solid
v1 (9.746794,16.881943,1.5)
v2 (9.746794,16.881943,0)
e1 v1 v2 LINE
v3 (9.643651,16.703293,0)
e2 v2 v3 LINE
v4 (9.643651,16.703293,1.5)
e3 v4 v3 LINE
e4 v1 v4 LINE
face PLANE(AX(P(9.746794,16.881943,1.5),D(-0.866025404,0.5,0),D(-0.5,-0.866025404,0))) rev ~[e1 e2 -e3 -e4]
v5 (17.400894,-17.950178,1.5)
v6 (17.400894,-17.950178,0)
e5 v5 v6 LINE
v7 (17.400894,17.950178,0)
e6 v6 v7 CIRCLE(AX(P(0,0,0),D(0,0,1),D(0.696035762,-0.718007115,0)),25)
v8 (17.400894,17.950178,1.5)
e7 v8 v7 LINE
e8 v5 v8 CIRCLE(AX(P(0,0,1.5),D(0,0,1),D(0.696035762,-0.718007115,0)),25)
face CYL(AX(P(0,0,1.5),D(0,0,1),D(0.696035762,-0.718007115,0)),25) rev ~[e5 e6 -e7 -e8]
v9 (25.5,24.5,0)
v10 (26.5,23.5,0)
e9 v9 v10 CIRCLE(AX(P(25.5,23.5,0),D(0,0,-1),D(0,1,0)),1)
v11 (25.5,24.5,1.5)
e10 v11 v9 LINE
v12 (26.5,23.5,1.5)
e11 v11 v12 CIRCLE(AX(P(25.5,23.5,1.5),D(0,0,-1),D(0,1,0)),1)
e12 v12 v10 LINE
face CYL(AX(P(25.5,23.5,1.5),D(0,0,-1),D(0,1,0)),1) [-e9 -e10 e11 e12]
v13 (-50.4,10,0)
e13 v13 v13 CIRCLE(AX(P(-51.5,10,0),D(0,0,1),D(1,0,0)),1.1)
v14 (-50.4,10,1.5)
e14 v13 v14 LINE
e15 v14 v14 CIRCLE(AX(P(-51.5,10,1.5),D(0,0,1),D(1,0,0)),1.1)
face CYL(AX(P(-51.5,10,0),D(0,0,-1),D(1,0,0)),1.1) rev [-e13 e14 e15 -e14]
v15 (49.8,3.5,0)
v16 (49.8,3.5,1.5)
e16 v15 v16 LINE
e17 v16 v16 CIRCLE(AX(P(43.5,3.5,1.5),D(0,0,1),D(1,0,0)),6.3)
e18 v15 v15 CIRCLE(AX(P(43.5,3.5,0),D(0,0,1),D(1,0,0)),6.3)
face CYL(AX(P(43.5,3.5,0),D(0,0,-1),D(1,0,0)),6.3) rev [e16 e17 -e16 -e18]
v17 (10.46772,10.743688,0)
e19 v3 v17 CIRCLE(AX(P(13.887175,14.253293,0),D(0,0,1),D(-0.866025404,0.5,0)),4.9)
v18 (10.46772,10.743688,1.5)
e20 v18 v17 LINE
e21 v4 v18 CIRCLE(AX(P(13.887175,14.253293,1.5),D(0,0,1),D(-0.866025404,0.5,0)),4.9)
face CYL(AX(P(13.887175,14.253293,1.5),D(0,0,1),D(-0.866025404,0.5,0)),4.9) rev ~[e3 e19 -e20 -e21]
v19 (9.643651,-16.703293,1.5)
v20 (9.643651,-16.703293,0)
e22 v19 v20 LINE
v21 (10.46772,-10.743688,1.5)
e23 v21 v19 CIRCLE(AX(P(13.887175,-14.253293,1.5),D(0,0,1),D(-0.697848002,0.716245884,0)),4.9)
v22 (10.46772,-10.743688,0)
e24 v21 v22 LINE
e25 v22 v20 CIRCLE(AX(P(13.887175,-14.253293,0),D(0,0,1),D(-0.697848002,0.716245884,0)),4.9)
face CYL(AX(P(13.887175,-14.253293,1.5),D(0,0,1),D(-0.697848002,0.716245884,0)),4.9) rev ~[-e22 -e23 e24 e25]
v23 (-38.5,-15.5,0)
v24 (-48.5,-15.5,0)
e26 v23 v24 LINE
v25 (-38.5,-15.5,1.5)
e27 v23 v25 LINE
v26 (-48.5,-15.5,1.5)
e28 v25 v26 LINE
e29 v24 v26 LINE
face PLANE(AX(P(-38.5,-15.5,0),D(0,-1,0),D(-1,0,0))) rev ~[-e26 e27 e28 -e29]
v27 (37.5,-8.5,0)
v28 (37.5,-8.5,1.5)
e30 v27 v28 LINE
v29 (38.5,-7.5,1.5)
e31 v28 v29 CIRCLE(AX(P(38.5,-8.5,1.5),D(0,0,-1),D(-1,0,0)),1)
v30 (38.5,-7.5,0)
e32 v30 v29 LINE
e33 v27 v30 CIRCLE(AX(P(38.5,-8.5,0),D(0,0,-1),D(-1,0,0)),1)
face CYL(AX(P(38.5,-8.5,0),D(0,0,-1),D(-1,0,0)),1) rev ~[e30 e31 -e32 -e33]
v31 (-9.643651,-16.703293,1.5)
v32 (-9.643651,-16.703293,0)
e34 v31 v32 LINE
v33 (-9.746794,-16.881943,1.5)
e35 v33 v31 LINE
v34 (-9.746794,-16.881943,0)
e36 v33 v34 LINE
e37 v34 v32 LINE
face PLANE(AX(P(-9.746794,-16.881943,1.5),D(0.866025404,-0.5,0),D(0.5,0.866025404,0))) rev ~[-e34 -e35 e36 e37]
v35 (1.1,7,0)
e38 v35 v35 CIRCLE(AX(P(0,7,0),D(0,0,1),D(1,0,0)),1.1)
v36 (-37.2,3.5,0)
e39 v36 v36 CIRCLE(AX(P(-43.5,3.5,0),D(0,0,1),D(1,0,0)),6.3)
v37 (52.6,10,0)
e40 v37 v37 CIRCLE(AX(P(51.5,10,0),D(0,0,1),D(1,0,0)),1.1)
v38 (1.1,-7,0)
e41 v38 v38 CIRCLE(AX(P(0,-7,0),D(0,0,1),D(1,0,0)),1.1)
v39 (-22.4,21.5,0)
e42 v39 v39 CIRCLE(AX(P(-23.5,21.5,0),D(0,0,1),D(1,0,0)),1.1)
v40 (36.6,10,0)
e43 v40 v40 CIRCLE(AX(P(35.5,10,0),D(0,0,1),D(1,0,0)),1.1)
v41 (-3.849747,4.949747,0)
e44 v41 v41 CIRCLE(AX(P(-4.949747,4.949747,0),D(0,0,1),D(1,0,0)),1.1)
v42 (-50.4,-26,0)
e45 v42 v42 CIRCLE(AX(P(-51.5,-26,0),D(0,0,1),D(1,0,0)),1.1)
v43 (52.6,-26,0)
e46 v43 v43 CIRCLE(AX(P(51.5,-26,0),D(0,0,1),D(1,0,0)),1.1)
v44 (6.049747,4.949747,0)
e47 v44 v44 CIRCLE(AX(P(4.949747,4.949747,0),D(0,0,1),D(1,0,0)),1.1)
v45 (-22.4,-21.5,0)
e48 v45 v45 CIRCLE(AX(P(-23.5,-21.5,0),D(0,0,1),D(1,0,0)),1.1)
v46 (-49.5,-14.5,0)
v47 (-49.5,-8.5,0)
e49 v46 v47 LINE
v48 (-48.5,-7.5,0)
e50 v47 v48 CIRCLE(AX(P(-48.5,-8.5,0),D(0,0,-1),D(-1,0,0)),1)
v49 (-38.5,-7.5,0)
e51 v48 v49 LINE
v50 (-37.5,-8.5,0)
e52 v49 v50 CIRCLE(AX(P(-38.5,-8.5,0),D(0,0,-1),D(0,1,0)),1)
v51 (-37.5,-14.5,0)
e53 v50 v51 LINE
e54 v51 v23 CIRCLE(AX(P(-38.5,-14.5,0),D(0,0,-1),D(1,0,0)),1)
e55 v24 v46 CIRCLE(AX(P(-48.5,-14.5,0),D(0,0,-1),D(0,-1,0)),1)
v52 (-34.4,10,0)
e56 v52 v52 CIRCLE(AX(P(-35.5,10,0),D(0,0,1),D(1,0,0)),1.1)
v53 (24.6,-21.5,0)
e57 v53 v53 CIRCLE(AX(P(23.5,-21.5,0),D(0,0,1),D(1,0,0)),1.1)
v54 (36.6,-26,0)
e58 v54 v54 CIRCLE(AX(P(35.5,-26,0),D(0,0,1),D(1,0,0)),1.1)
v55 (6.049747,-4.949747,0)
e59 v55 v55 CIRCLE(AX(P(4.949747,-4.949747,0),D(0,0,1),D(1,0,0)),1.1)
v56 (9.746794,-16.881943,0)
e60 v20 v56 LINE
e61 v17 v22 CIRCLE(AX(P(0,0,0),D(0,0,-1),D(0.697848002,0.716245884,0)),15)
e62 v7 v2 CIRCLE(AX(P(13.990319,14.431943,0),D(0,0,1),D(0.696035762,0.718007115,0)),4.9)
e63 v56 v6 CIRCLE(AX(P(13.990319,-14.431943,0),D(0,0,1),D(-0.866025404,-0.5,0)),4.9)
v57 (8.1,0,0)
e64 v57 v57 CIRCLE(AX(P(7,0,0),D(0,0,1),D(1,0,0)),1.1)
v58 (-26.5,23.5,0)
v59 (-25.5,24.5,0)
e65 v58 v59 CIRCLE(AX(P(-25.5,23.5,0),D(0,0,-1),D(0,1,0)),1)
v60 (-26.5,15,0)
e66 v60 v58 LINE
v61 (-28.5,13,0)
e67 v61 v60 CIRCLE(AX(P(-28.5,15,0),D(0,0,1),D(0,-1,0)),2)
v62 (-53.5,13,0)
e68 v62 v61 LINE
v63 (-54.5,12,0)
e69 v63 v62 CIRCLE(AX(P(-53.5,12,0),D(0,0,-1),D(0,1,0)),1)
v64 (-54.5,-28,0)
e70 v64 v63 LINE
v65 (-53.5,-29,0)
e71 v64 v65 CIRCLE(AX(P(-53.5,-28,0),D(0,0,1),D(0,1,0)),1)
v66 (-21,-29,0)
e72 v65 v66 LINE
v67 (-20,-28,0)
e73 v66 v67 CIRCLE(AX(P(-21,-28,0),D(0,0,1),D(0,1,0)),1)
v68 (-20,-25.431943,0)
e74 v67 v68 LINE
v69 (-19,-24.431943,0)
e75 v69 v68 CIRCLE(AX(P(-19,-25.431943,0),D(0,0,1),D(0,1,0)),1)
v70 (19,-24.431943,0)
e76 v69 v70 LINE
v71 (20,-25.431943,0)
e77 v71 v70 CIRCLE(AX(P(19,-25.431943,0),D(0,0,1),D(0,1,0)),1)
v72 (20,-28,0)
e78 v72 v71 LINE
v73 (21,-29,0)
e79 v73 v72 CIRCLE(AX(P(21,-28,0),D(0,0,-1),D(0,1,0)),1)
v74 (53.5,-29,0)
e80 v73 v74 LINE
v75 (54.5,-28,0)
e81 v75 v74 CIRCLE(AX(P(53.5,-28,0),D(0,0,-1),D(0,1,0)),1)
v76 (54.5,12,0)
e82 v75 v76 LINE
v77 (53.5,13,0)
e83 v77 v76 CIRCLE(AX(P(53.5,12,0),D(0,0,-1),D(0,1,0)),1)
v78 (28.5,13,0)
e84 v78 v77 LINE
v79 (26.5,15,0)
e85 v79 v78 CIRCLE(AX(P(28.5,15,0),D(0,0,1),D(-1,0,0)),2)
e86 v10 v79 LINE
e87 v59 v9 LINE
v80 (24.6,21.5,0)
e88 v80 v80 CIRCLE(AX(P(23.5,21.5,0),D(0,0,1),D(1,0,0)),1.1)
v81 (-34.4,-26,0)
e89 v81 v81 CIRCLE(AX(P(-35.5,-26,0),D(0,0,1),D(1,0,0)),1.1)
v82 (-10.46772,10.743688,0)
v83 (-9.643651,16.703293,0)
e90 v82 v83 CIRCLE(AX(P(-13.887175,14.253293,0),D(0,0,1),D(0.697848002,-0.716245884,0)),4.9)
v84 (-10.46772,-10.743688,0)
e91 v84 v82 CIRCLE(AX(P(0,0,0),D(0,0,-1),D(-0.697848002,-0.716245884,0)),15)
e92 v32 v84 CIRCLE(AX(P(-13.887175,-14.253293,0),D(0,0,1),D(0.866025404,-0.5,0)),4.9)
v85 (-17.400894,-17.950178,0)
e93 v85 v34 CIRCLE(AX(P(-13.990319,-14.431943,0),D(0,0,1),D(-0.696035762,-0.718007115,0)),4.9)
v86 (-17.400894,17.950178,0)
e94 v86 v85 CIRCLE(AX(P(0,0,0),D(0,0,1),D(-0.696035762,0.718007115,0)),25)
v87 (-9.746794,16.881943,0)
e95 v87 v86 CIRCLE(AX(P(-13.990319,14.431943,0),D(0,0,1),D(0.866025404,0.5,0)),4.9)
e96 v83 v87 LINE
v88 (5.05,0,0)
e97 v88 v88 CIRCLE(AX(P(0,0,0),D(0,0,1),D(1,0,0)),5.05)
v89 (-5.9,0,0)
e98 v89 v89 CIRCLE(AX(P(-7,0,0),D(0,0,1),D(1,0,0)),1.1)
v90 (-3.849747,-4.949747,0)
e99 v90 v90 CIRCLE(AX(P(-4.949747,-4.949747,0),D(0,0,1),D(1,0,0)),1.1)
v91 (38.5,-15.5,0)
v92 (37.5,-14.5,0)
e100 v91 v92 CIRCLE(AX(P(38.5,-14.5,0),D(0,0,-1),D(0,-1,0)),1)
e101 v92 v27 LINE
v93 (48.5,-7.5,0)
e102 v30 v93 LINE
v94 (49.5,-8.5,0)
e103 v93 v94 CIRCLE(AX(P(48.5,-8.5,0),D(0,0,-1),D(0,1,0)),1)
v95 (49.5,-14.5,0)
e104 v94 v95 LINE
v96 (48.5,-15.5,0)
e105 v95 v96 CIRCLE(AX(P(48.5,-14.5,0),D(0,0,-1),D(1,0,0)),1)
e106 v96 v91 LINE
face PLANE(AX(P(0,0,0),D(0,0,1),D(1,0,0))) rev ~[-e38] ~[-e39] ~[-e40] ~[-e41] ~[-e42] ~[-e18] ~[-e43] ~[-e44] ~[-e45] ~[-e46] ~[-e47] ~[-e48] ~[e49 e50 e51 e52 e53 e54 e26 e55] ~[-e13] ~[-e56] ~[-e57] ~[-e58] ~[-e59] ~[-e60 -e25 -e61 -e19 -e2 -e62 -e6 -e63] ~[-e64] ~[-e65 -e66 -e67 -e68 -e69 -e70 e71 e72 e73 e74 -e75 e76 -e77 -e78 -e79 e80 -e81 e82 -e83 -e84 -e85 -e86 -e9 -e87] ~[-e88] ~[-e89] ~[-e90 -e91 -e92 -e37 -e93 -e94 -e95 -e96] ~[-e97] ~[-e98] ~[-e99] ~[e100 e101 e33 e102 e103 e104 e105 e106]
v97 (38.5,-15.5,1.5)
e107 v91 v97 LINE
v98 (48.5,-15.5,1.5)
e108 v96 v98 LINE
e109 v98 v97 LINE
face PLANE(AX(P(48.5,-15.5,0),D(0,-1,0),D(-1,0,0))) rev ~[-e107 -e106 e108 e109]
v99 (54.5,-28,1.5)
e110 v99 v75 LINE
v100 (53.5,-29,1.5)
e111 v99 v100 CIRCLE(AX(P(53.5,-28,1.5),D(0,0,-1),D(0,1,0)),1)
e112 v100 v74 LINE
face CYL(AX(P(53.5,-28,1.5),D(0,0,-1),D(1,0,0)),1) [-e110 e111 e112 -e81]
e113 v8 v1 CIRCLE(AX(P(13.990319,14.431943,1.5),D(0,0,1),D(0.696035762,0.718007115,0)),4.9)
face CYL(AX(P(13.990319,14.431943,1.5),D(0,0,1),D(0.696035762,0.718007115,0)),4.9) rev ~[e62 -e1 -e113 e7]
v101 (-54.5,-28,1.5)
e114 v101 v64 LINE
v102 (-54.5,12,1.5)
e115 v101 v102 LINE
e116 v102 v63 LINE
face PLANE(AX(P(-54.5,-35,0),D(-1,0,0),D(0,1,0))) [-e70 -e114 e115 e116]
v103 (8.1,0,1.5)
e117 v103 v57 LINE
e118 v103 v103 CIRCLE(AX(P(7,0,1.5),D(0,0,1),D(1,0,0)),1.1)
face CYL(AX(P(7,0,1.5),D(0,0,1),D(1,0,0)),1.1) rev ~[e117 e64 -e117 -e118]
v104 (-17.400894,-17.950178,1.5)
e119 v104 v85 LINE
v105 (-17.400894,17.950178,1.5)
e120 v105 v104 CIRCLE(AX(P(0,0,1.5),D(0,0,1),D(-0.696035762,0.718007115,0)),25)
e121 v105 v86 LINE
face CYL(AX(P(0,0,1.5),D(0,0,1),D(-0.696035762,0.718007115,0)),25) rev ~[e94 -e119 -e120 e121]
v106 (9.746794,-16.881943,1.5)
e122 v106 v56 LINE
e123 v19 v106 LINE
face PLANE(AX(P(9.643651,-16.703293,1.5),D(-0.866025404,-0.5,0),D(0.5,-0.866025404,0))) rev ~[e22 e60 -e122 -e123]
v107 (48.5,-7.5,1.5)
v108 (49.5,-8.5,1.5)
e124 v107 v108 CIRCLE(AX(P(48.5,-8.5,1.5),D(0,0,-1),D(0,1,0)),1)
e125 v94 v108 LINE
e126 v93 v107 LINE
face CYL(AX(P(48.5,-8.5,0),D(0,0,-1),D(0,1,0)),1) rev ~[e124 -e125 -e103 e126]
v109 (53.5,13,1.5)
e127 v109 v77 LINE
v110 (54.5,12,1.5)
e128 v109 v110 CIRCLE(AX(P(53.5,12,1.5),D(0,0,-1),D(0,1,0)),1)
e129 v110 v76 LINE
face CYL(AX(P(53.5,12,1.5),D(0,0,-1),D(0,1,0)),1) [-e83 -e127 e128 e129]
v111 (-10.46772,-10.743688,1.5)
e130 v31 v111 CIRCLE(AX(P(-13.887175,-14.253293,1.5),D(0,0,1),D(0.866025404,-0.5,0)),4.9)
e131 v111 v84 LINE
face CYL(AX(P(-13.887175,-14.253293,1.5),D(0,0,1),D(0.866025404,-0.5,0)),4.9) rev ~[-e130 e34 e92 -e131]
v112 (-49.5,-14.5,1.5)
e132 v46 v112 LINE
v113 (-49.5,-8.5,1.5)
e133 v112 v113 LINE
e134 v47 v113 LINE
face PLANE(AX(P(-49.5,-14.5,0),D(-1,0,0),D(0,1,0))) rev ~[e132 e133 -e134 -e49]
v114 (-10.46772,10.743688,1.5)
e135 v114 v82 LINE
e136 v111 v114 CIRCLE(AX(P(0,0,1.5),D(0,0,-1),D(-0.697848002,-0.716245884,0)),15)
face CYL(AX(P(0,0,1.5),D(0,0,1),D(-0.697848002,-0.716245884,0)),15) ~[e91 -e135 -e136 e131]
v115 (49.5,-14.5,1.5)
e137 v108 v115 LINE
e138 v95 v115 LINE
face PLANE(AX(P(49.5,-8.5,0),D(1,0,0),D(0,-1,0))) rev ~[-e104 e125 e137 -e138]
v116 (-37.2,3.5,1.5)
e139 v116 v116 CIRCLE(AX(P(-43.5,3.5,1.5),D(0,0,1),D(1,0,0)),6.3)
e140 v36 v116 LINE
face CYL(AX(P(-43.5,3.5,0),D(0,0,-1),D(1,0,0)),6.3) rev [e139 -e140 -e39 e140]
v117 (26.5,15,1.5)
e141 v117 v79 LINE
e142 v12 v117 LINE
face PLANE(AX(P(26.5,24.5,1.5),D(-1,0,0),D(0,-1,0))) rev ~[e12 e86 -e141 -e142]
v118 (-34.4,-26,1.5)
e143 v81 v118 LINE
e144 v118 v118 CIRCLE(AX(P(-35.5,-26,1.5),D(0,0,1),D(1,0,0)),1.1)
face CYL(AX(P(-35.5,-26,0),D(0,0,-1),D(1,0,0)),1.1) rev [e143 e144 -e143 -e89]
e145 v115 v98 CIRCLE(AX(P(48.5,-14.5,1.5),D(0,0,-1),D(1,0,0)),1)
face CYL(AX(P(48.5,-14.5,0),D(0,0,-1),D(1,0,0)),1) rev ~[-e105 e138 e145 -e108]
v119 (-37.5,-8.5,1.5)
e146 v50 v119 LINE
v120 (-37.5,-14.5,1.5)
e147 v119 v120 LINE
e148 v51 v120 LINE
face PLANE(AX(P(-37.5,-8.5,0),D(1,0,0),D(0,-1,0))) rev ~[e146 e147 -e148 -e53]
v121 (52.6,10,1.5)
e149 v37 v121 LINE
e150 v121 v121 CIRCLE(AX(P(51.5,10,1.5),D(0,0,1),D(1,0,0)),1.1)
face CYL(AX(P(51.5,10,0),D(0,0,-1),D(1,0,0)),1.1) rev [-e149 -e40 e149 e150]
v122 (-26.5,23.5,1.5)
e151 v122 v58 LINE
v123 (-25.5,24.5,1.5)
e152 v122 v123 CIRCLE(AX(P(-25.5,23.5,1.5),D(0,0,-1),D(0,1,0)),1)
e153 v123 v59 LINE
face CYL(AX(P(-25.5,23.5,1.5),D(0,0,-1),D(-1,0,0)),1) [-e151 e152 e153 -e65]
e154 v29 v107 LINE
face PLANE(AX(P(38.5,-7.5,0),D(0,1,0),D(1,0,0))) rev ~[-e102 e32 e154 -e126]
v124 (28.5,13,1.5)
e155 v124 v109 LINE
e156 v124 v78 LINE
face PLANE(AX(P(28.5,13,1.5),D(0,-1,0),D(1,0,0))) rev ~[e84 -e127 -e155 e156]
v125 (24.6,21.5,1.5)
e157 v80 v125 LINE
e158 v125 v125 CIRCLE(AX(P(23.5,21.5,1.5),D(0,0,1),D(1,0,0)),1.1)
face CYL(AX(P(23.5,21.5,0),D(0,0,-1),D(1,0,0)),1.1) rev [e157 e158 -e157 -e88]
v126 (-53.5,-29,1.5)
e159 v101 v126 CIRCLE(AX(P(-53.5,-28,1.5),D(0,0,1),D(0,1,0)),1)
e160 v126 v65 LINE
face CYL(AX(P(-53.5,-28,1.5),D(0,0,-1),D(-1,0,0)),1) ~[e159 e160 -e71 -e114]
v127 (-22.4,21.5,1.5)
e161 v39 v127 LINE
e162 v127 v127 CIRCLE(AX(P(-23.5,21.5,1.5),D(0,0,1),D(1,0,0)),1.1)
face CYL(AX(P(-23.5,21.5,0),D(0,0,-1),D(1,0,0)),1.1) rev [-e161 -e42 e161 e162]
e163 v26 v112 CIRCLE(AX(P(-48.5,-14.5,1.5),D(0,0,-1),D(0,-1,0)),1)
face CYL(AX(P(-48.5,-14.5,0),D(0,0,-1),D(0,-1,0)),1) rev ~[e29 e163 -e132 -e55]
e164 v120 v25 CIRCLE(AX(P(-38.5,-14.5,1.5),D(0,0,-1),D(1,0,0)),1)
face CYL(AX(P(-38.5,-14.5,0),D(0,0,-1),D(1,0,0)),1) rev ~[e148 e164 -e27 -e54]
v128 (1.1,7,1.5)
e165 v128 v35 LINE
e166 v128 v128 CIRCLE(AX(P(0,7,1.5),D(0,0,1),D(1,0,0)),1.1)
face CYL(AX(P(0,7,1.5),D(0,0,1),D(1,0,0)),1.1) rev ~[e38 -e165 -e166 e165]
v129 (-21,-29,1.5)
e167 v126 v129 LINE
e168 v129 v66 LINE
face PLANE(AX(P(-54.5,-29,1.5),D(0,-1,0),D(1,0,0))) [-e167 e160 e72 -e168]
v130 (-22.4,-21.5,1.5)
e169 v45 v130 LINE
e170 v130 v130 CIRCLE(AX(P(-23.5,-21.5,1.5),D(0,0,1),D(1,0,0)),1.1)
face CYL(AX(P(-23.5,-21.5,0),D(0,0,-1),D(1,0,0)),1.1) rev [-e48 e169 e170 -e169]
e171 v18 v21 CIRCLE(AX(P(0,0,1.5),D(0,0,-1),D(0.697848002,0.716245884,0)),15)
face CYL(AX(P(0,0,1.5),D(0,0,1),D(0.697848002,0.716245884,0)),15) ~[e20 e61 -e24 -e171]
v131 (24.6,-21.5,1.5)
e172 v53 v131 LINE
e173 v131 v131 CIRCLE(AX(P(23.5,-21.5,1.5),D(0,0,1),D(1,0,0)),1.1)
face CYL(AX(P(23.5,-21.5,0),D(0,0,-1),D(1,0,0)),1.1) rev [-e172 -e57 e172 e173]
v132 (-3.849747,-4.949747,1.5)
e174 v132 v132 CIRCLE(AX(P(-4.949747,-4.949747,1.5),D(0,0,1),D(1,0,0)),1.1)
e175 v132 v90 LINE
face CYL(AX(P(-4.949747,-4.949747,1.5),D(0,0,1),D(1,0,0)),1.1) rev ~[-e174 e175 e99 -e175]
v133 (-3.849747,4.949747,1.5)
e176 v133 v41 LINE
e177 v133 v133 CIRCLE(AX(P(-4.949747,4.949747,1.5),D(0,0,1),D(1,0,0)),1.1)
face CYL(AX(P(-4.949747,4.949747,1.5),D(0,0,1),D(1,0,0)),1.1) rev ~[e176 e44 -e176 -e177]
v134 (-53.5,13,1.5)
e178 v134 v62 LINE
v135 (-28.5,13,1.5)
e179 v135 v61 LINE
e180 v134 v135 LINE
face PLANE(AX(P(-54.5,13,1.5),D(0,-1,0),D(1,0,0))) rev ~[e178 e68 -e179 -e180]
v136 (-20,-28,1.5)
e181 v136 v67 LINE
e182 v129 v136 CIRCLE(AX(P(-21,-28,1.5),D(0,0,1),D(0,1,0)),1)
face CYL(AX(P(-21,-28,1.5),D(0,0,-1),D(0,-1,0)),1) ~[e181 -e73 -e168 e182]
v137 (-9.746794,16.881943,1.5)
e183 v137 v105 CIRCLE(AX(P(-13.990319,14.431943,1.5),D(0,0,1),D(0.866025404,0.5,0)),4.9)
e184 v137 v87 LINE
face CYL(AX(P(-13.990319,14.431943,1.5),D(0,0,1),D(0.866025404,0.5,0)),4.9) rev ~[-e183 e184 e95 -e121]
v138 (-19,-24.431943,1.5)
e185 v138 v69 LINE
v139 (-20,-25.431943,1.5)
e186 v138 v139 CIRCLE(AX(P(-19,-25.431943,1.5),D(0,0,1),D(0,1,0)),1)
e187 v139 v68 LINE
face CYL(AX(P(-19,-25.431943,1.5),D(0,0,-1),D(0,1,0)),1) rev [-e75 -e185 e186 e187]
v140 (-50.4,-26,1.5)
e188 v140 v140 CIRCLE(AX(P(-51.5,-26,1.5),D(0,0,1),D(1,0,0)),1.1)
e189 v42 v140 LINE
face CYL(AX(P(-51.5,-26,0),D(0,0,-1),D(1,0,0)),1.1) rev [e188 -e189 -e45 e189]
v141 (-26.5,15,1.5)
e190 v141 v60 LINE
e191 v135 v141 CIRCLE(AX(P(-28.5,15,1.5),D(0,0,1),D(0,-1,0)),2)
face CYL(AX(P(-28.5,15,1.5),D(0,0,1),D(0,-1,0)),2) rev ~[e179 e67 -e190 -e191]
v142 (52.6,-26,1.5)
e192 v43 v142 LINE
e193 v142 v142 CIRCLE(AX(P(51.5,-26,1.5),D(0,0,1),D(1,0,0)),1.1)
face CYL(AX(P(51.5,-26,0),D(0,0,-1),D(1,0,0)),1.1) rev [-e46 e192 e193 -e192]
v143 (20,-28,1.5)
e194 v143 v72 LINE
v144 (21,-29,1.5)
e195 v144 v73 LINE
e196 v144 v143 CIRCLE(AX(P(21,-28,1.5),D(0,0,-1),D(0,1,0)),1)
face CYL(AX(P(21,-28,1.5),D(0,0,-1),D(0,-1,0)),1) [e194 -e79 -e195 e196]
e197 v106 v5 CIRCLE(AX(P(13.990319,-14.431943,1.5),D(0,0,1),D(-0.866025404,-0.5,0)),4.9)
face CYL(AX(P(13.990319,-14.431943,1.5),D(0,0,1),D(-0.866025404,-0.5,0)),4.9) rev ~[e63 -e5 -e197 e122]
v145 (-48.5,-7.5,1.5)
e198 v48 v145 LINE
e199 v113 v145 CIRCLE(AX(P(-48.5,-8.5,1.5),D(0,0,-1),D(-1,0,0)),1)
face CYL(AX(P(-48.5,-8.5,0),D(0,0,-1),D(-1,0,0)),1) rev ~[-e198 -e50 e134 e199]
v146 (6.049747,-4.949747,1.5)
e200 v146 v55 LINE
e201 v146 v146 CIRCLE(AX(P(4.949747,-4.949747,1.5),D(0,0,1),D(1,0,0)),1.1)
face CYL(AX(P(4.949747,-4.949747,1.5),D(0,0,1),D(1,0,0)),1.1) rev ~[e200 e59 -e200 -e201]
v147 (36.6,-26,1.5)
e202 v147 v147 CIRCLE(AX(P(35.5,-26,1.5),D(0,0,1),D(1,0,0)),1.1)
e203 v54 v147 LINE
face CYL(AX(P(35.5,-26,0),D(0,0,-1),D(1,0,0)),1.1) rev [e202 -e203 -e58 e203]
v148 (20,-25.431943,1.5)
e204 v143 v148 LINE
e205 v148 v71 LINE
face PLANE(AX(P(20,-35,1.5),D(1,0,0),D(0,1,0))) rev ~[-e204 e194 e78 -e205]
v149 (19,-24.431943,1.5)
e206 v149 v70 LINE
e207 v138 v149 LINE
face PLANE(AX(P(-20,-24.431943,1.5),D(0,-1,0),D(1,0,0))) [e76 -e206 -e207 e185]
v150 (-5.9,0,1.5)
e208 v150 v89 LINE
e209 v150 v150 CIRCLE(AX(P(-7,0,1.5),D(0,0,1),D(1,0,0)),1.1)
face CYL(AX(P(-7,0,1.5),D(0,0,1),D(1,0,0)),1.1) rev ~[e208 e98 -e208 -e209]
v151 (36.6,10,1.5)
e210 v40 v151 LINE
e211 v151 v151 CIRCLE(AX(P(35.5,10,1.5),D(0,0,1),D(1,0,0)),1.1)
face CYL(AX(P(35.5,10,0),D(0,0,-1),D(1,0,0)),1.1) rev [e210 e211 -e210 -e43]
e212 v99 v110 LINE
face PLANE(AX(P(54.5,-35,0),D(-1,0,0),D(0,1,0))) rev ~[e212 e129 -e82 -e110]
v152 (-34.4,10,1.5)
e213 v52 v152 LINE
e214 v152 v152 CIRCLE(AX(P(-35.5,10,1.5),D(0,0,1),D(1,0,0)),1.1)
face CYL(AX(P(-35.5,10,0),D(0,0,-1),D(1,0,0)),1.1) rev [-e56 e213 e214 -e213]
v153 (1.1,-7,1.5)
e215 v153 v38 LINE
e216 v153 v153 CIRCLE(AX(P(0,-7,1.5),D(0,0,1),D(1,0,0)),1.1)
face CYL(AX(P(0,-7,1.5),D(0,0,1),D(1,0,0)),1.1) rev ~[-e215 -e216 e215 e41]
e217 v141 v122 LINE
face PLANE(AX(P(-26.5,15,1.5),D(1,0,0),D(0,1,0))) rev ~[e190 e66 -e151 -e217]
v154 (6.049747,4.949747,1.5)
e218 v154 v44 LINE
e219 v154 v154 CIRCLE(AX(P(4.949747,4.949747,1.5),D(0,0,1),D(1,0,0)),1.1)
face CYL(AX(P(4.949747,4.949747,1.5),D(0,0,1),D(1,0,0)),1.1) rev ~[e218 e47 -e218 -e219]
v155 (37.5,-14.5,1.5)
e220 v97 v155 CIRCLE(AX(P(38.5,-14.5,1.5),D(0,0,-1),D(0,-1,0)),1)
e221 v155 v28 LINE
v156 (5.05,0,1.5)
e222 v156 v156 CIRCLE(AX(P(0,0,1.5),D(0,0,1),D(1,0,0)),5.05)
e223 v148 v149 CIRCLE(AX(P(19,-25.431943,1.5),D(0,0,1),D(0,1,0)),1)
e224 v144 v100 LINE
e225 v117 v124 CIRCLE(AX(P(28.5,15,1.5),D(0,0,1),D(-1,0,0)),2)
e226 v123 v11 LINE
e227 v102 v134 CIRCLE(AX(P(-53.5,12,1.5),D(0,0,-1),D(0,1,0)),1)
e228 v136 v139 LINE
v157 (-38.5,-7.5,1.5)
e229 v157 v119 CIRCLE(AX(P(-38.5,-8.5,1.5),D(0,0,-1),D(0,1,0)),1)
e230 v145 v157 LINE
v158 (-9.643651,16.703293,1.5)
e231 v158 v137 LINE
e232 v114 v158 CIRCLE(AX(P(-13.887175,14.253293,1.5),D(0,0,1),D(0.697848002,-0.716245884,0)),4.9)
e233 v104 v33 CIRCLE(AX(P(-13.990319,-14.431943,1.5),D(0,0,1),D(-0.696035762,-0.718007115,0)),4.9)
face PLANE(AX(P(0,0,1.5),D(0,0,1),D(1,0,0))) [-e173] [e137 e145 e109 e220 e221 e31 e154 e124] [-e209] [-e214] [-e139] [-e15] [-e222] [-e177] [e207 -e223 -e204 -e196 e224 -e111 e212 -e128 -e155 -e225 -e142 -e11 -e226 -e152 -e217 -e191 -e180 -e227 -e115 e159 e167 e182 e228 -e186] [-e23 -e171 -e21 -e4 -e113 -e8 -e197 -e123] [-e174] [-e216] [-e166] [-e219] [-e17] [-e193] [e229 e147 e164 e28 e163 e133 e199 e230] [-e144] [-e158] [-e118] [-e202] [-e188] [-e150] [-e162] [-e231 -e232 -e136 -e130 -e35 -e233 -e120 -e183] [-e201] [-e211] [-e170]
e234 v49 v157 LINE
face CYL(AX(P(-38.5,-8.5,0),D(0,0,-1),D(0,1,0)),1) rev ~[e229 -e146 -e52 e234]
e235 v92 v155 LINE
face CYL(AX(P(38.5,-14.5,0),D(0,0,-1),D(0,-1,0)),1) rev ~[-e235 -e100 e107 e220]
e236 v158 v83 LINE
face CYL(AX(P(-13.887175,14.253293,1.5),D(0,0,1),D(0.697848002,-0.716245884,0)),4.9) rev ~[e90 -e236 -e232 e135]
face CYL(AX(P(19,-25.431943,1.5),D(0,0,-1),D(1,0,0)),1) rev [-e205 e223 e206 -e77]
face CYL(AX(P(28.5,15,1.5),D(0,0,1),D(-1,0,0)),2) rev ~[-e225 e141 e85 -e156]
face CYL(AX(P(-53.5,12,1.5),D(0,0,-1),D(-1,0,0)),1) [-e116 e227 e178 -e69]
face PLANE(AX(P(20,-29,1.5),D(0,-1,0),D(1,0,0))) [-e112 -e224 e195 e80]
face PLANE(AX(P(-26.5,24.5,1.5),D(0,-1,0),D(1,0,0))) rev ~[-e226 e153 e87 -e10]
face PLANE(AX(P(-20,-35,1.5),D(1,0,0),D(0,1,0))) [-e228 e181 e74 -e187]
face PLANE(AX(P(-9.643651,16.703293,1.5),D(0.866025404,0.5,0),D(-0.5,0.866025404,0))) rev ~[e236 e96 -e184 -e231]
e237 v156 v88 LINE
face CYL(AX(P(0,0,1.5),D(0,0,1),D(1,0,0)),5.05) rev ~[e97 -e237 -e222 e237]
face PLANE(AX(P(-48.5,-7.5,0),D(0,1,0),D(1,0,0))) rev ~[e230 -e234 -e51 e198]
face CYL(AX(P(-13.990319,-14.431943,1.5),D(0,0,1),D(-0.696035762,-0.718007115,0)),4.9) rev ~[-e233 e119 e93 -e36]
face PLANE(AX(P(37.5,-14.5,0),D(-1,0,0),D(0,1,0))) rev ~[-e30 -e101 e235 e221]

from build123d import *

# Parameters (mm, degrees)
F0_W     = 109
F0_H     = 70
F0_R     = 1.1
F0_R_2   = 6.3
F1_DEPTH = 1.5
F2_R     = 5.05
F2_R_2   = 1.1
F2_W     = 53
F2_H     = 10.5
F2_W_2   = 40
F2_H_2   = 10.5680569839
F3_DEPTH = 1.5
F4_W     = 34.5
F4_H     = 6
F5_DEPTH = 1.5
F6_R     = 1


with BuildPart() as f1:
    # F0 (on Top) → F1 (new body)
    with BuildSketch(Plane.XY):
        Rectangle(F0_W, F0_H)
        with Locations((-51.5, -26)):
            Circle(F0_R, mode=Mode.SUBTRACT)
        with Locations((-35.5, -26)):
            Circle(F0_R, mode=Mode.SUBTRACT)
        with Locations((-23.5, -21.5)):
            Circle(F0_R, mode=Mode.SUBTRACT)
        with BuildLine():
            ThreePointArc((-37.5, -14.5), (-37.7928932188, -15.2071067812), (-38.5, -15.5))
            Line((-38.5, -15.5), (-48.5, -15.5))
            ThreePointArc((-48.5, -15.5), (-49.2071067812, -15.2071067812), (-49.5, -14.5))
            Line((-49.5, -14.5), (-49.5, -8.5))
            ThreePointArc((-49.5, -8.5), (-49.2071067812, -7.7928932188), (-48.5, -7.5))
            Line((-48.5, -7.5), (-38.5, -7.5))
            ThreePointArc((-38.5, -7.5), (-37.7928932188, -7.7928932188), (-37.5, -8.5))
            Line((-37.5, -8.5), (-37.5, -14.5))
        make_face(mode=Mode.SUBTRACT)
        with Locations((23.5, -21.5)):
            Circle(F0_R, mode=Mode.SUBTRACT)
        with Locations((35.5, -26)):
            Circle(F0_R, mode=Mode.SUBTRACT)
        with Locations((51.5, -26)):
            Circle(F0_R, mode=Mode.SUBTRACT)
        with BuildLine():
            Line((38.5, -7.5), (48.5, -7.5))
            ThreePointArc((48.5, -7.5), (49.2071067812, -7.7928932188), (49.5, -8.5))
            Line((49.5, -8.5), (49.5, -14.5))
            ThreePointArc((49.5, -14.5), (49.2071067812, -15.2071067812), (48.5, -15.5))
            Line((48.5, -15.5), (38.5, -15.5))
            ThreePointArc((38.5, -15.5), (37.7928932188, -15.2071067812), (37.5, -14.5))
            Line((37.5, -14.5), (37.5, -8.5))
            ThreePointArc((37.5, -8.5), (37.7928932188, -7.7928932188), (38.5, -7.5))
        make_face(mode=Mode.SUBTRACT)
        with Locations((-43.5, 3.5)):
            Circle(F0_R_2, mode=Mode.SUBTRACT)
        with Locations((-51.5, 10)):
            Circle(F0_R, mode=Mode.SUBTRACT)
        with Locations((-35.5, 10)):
            Circle(F0_R, mode=Mode.SUBTRACT)
        with Locations((-23.5, 21.5)):
            Circle(F0_R, mode=Mode.SUBTRACT)
        with Locations((43.5, 3.5)):
            Circle(F0_R_2, mode=Mode.SUBTRACT)
        with Locations((35.5, 10)):
            Circle(F0_R, mode=Mode.SUBTRACT)
        with Locations((51.5, 10)):
            Circle(F0_R, mode=Mode.SUBTRACT)
        with Locations((23.5, 21.5)):
            Circle(F0_R, mode=Mode.SUBTRACT)
    extrude(amount=F1_DEPTH)

    # F2 (on face) → F3 (cut, through all)
    with BuildSketch(Plane.XY.offset(1.5)):
        Circle(F2_R)
        with Locations((0, 7)):
            Circle(F2_R_2)
        with Locations((-4.9497474683, 4.9497474683)):
            Circle(F2_R_2)
        with Locations((-7, 0)):
            Circle(F2_R_2)
        with Locations((-4.9497474683, -4.9497474683)):
            Circle(F2_R_2)
        with Locations((0, -7)):
            Circle(F2_R_2)
        with Locations((4.9497474683, -4.9497474683)):
            Circle(F2_R_2)
        with Locations((7, 0)):
            Circle(F2_R_2)
        with Locations((4.9497474683, 4.9497474683)):
            Circle(F2_R_2)
        with BuildLine():
            ThreePointArc((-9.7467943448, 16.8819430161), (-13.3130208521, 19.2849078273), (-17.4008940589, 17.9501778808))
            ThreePointArc((-17.4008940589, 17.9501778808), (-25, 0), (-17.4008940589, -17.9501778808))
            ThreePointArc((-17.4008940589, -17.9501778808), (-13.3130208521, -19.2849078273), (-9.7467943448, -16.8819430161))
            Line((-9.7467943448, -16.8819430161), (-9.643650761, -16.7032930885))
            ThreePointArc((-9.643650761, -16.7032930885), (-9.0333585083, -13.5821275803), (-10.4677200298, -10.7436882577))
            ThreePointArc((-10.4677200298, -10.7436882577), (-15, 0), (-10.4677200298, 10.7436882577))
            ThreePointArc((-10.4677200298, 10.7436882577), (-9.0333585083, 13.5821275803), (-9.643650761, 16.7032930885))
            Line((-9.643650761, 16.7032930885), (-9.7467943448, 16.8819430161))
        make_face()
        with BuildLine():
            ThreePointArc((17.4008940589, 17.9501778808), (13.3130208521, 19.2849078273), (9.7467943448, 16.8819430161))
            Line((9.7467943448, 16.8819430161), (9.643650761, 16.7032930885))
            ThreePointArc((9.643650761, 16.7032930885), (9.0333585083, 13.5821275803), (10.4677200298, 10.7436882577))
            ThreePointArc((10.4677200298, 10.7436882577), (15, 0), (10.4677200298, -10.7436882577))
            ThreePointArc((10.4677200298, -10.7436882577), (9.0333585083, -13.5821275803), (9.643650761, -16.7032930885))
            Line((9.643650761, -16.7032930885), (9.7467943448, -16.8819430161))
            ThreePointArc((9.7467943448, -16.8819430161), (13.3130208521, -19.2849078273), (17.4008940589, -17.9501778808))
            ThreePointArc((17.4008940589, -17.9501778808), (25, 0), (17.4008940589, 17.9501778808))
        make_face()
        with BuildLine():
            Line((-26.5, 35), (-54.5, 35))
            Line((-54.5, 35), (-54.5, 13))
            Line((-54.5, 13), (-28.5, 13))
            ThreePointArc((-28.5, 13), (-27.0857864376, 13.5857864376), (-26.5, 15))
            Line((-26.5, 15), (-26.5, 24.5))
            Line((-26.5, 24.5), (-26.5, 35))
        make_face()
        with Locations((0, 29.75)):
            Rectangle(F2_W, F2_H)
        with BuildLine():
            Line((54.5, 35), (26.5, 35))
            Line((26.5, 35), (26.5, 24.5))
            Line((26.5, 24.5), (26.5, 15))
            ThreePointArc((26.5, 15), (27.0857864376, 13.5857864376), (28.5, 13))
            Line((28.5, 13), (54.5, 13))
            Line((54.5, 13), (54.5, 35))
        make_face()
        with Locations((0, -29.7159715081)):
            Rectangle(F2_W_2, F2_H_2)
    extrude(amount=-F3_DEPTH, mode=Mode.SUBTRACT)

    # F4 (on face) → F5 (cut, through all)
    with BuildSketch(Plane.XY.offset(1.5)):
        with Locations((-37.25, -32)):
            Rectangle(F4_W, F4_H)
        with Locations((37.25, -32)):
            Rectangle(F4_W, F4_H)
    extrude(amount=-F5_DEPTH, mode=Mode.SUBTRACT)

    # F6
    f6_edges = [f1.edges().sort_by_distance(p)[0] for p in [
        (-54.5, -29, 0.75),
        (-20, -29, 0.75),
        (20, -29, 0.75),
        (54.5, -29, 0.75),
        (-20, -24.431943, 0.75),
        (20, -24.431943, 0.75),
        (54.5, 13, 0.75),
        (26.5, 24.5, 0.75),
        (-26.5, 24.5, 0.75),
        (-54.5, 13, 0.75),
    ]]
    fillet(f6_edges, radius=F6_R)


solid = f1.part
